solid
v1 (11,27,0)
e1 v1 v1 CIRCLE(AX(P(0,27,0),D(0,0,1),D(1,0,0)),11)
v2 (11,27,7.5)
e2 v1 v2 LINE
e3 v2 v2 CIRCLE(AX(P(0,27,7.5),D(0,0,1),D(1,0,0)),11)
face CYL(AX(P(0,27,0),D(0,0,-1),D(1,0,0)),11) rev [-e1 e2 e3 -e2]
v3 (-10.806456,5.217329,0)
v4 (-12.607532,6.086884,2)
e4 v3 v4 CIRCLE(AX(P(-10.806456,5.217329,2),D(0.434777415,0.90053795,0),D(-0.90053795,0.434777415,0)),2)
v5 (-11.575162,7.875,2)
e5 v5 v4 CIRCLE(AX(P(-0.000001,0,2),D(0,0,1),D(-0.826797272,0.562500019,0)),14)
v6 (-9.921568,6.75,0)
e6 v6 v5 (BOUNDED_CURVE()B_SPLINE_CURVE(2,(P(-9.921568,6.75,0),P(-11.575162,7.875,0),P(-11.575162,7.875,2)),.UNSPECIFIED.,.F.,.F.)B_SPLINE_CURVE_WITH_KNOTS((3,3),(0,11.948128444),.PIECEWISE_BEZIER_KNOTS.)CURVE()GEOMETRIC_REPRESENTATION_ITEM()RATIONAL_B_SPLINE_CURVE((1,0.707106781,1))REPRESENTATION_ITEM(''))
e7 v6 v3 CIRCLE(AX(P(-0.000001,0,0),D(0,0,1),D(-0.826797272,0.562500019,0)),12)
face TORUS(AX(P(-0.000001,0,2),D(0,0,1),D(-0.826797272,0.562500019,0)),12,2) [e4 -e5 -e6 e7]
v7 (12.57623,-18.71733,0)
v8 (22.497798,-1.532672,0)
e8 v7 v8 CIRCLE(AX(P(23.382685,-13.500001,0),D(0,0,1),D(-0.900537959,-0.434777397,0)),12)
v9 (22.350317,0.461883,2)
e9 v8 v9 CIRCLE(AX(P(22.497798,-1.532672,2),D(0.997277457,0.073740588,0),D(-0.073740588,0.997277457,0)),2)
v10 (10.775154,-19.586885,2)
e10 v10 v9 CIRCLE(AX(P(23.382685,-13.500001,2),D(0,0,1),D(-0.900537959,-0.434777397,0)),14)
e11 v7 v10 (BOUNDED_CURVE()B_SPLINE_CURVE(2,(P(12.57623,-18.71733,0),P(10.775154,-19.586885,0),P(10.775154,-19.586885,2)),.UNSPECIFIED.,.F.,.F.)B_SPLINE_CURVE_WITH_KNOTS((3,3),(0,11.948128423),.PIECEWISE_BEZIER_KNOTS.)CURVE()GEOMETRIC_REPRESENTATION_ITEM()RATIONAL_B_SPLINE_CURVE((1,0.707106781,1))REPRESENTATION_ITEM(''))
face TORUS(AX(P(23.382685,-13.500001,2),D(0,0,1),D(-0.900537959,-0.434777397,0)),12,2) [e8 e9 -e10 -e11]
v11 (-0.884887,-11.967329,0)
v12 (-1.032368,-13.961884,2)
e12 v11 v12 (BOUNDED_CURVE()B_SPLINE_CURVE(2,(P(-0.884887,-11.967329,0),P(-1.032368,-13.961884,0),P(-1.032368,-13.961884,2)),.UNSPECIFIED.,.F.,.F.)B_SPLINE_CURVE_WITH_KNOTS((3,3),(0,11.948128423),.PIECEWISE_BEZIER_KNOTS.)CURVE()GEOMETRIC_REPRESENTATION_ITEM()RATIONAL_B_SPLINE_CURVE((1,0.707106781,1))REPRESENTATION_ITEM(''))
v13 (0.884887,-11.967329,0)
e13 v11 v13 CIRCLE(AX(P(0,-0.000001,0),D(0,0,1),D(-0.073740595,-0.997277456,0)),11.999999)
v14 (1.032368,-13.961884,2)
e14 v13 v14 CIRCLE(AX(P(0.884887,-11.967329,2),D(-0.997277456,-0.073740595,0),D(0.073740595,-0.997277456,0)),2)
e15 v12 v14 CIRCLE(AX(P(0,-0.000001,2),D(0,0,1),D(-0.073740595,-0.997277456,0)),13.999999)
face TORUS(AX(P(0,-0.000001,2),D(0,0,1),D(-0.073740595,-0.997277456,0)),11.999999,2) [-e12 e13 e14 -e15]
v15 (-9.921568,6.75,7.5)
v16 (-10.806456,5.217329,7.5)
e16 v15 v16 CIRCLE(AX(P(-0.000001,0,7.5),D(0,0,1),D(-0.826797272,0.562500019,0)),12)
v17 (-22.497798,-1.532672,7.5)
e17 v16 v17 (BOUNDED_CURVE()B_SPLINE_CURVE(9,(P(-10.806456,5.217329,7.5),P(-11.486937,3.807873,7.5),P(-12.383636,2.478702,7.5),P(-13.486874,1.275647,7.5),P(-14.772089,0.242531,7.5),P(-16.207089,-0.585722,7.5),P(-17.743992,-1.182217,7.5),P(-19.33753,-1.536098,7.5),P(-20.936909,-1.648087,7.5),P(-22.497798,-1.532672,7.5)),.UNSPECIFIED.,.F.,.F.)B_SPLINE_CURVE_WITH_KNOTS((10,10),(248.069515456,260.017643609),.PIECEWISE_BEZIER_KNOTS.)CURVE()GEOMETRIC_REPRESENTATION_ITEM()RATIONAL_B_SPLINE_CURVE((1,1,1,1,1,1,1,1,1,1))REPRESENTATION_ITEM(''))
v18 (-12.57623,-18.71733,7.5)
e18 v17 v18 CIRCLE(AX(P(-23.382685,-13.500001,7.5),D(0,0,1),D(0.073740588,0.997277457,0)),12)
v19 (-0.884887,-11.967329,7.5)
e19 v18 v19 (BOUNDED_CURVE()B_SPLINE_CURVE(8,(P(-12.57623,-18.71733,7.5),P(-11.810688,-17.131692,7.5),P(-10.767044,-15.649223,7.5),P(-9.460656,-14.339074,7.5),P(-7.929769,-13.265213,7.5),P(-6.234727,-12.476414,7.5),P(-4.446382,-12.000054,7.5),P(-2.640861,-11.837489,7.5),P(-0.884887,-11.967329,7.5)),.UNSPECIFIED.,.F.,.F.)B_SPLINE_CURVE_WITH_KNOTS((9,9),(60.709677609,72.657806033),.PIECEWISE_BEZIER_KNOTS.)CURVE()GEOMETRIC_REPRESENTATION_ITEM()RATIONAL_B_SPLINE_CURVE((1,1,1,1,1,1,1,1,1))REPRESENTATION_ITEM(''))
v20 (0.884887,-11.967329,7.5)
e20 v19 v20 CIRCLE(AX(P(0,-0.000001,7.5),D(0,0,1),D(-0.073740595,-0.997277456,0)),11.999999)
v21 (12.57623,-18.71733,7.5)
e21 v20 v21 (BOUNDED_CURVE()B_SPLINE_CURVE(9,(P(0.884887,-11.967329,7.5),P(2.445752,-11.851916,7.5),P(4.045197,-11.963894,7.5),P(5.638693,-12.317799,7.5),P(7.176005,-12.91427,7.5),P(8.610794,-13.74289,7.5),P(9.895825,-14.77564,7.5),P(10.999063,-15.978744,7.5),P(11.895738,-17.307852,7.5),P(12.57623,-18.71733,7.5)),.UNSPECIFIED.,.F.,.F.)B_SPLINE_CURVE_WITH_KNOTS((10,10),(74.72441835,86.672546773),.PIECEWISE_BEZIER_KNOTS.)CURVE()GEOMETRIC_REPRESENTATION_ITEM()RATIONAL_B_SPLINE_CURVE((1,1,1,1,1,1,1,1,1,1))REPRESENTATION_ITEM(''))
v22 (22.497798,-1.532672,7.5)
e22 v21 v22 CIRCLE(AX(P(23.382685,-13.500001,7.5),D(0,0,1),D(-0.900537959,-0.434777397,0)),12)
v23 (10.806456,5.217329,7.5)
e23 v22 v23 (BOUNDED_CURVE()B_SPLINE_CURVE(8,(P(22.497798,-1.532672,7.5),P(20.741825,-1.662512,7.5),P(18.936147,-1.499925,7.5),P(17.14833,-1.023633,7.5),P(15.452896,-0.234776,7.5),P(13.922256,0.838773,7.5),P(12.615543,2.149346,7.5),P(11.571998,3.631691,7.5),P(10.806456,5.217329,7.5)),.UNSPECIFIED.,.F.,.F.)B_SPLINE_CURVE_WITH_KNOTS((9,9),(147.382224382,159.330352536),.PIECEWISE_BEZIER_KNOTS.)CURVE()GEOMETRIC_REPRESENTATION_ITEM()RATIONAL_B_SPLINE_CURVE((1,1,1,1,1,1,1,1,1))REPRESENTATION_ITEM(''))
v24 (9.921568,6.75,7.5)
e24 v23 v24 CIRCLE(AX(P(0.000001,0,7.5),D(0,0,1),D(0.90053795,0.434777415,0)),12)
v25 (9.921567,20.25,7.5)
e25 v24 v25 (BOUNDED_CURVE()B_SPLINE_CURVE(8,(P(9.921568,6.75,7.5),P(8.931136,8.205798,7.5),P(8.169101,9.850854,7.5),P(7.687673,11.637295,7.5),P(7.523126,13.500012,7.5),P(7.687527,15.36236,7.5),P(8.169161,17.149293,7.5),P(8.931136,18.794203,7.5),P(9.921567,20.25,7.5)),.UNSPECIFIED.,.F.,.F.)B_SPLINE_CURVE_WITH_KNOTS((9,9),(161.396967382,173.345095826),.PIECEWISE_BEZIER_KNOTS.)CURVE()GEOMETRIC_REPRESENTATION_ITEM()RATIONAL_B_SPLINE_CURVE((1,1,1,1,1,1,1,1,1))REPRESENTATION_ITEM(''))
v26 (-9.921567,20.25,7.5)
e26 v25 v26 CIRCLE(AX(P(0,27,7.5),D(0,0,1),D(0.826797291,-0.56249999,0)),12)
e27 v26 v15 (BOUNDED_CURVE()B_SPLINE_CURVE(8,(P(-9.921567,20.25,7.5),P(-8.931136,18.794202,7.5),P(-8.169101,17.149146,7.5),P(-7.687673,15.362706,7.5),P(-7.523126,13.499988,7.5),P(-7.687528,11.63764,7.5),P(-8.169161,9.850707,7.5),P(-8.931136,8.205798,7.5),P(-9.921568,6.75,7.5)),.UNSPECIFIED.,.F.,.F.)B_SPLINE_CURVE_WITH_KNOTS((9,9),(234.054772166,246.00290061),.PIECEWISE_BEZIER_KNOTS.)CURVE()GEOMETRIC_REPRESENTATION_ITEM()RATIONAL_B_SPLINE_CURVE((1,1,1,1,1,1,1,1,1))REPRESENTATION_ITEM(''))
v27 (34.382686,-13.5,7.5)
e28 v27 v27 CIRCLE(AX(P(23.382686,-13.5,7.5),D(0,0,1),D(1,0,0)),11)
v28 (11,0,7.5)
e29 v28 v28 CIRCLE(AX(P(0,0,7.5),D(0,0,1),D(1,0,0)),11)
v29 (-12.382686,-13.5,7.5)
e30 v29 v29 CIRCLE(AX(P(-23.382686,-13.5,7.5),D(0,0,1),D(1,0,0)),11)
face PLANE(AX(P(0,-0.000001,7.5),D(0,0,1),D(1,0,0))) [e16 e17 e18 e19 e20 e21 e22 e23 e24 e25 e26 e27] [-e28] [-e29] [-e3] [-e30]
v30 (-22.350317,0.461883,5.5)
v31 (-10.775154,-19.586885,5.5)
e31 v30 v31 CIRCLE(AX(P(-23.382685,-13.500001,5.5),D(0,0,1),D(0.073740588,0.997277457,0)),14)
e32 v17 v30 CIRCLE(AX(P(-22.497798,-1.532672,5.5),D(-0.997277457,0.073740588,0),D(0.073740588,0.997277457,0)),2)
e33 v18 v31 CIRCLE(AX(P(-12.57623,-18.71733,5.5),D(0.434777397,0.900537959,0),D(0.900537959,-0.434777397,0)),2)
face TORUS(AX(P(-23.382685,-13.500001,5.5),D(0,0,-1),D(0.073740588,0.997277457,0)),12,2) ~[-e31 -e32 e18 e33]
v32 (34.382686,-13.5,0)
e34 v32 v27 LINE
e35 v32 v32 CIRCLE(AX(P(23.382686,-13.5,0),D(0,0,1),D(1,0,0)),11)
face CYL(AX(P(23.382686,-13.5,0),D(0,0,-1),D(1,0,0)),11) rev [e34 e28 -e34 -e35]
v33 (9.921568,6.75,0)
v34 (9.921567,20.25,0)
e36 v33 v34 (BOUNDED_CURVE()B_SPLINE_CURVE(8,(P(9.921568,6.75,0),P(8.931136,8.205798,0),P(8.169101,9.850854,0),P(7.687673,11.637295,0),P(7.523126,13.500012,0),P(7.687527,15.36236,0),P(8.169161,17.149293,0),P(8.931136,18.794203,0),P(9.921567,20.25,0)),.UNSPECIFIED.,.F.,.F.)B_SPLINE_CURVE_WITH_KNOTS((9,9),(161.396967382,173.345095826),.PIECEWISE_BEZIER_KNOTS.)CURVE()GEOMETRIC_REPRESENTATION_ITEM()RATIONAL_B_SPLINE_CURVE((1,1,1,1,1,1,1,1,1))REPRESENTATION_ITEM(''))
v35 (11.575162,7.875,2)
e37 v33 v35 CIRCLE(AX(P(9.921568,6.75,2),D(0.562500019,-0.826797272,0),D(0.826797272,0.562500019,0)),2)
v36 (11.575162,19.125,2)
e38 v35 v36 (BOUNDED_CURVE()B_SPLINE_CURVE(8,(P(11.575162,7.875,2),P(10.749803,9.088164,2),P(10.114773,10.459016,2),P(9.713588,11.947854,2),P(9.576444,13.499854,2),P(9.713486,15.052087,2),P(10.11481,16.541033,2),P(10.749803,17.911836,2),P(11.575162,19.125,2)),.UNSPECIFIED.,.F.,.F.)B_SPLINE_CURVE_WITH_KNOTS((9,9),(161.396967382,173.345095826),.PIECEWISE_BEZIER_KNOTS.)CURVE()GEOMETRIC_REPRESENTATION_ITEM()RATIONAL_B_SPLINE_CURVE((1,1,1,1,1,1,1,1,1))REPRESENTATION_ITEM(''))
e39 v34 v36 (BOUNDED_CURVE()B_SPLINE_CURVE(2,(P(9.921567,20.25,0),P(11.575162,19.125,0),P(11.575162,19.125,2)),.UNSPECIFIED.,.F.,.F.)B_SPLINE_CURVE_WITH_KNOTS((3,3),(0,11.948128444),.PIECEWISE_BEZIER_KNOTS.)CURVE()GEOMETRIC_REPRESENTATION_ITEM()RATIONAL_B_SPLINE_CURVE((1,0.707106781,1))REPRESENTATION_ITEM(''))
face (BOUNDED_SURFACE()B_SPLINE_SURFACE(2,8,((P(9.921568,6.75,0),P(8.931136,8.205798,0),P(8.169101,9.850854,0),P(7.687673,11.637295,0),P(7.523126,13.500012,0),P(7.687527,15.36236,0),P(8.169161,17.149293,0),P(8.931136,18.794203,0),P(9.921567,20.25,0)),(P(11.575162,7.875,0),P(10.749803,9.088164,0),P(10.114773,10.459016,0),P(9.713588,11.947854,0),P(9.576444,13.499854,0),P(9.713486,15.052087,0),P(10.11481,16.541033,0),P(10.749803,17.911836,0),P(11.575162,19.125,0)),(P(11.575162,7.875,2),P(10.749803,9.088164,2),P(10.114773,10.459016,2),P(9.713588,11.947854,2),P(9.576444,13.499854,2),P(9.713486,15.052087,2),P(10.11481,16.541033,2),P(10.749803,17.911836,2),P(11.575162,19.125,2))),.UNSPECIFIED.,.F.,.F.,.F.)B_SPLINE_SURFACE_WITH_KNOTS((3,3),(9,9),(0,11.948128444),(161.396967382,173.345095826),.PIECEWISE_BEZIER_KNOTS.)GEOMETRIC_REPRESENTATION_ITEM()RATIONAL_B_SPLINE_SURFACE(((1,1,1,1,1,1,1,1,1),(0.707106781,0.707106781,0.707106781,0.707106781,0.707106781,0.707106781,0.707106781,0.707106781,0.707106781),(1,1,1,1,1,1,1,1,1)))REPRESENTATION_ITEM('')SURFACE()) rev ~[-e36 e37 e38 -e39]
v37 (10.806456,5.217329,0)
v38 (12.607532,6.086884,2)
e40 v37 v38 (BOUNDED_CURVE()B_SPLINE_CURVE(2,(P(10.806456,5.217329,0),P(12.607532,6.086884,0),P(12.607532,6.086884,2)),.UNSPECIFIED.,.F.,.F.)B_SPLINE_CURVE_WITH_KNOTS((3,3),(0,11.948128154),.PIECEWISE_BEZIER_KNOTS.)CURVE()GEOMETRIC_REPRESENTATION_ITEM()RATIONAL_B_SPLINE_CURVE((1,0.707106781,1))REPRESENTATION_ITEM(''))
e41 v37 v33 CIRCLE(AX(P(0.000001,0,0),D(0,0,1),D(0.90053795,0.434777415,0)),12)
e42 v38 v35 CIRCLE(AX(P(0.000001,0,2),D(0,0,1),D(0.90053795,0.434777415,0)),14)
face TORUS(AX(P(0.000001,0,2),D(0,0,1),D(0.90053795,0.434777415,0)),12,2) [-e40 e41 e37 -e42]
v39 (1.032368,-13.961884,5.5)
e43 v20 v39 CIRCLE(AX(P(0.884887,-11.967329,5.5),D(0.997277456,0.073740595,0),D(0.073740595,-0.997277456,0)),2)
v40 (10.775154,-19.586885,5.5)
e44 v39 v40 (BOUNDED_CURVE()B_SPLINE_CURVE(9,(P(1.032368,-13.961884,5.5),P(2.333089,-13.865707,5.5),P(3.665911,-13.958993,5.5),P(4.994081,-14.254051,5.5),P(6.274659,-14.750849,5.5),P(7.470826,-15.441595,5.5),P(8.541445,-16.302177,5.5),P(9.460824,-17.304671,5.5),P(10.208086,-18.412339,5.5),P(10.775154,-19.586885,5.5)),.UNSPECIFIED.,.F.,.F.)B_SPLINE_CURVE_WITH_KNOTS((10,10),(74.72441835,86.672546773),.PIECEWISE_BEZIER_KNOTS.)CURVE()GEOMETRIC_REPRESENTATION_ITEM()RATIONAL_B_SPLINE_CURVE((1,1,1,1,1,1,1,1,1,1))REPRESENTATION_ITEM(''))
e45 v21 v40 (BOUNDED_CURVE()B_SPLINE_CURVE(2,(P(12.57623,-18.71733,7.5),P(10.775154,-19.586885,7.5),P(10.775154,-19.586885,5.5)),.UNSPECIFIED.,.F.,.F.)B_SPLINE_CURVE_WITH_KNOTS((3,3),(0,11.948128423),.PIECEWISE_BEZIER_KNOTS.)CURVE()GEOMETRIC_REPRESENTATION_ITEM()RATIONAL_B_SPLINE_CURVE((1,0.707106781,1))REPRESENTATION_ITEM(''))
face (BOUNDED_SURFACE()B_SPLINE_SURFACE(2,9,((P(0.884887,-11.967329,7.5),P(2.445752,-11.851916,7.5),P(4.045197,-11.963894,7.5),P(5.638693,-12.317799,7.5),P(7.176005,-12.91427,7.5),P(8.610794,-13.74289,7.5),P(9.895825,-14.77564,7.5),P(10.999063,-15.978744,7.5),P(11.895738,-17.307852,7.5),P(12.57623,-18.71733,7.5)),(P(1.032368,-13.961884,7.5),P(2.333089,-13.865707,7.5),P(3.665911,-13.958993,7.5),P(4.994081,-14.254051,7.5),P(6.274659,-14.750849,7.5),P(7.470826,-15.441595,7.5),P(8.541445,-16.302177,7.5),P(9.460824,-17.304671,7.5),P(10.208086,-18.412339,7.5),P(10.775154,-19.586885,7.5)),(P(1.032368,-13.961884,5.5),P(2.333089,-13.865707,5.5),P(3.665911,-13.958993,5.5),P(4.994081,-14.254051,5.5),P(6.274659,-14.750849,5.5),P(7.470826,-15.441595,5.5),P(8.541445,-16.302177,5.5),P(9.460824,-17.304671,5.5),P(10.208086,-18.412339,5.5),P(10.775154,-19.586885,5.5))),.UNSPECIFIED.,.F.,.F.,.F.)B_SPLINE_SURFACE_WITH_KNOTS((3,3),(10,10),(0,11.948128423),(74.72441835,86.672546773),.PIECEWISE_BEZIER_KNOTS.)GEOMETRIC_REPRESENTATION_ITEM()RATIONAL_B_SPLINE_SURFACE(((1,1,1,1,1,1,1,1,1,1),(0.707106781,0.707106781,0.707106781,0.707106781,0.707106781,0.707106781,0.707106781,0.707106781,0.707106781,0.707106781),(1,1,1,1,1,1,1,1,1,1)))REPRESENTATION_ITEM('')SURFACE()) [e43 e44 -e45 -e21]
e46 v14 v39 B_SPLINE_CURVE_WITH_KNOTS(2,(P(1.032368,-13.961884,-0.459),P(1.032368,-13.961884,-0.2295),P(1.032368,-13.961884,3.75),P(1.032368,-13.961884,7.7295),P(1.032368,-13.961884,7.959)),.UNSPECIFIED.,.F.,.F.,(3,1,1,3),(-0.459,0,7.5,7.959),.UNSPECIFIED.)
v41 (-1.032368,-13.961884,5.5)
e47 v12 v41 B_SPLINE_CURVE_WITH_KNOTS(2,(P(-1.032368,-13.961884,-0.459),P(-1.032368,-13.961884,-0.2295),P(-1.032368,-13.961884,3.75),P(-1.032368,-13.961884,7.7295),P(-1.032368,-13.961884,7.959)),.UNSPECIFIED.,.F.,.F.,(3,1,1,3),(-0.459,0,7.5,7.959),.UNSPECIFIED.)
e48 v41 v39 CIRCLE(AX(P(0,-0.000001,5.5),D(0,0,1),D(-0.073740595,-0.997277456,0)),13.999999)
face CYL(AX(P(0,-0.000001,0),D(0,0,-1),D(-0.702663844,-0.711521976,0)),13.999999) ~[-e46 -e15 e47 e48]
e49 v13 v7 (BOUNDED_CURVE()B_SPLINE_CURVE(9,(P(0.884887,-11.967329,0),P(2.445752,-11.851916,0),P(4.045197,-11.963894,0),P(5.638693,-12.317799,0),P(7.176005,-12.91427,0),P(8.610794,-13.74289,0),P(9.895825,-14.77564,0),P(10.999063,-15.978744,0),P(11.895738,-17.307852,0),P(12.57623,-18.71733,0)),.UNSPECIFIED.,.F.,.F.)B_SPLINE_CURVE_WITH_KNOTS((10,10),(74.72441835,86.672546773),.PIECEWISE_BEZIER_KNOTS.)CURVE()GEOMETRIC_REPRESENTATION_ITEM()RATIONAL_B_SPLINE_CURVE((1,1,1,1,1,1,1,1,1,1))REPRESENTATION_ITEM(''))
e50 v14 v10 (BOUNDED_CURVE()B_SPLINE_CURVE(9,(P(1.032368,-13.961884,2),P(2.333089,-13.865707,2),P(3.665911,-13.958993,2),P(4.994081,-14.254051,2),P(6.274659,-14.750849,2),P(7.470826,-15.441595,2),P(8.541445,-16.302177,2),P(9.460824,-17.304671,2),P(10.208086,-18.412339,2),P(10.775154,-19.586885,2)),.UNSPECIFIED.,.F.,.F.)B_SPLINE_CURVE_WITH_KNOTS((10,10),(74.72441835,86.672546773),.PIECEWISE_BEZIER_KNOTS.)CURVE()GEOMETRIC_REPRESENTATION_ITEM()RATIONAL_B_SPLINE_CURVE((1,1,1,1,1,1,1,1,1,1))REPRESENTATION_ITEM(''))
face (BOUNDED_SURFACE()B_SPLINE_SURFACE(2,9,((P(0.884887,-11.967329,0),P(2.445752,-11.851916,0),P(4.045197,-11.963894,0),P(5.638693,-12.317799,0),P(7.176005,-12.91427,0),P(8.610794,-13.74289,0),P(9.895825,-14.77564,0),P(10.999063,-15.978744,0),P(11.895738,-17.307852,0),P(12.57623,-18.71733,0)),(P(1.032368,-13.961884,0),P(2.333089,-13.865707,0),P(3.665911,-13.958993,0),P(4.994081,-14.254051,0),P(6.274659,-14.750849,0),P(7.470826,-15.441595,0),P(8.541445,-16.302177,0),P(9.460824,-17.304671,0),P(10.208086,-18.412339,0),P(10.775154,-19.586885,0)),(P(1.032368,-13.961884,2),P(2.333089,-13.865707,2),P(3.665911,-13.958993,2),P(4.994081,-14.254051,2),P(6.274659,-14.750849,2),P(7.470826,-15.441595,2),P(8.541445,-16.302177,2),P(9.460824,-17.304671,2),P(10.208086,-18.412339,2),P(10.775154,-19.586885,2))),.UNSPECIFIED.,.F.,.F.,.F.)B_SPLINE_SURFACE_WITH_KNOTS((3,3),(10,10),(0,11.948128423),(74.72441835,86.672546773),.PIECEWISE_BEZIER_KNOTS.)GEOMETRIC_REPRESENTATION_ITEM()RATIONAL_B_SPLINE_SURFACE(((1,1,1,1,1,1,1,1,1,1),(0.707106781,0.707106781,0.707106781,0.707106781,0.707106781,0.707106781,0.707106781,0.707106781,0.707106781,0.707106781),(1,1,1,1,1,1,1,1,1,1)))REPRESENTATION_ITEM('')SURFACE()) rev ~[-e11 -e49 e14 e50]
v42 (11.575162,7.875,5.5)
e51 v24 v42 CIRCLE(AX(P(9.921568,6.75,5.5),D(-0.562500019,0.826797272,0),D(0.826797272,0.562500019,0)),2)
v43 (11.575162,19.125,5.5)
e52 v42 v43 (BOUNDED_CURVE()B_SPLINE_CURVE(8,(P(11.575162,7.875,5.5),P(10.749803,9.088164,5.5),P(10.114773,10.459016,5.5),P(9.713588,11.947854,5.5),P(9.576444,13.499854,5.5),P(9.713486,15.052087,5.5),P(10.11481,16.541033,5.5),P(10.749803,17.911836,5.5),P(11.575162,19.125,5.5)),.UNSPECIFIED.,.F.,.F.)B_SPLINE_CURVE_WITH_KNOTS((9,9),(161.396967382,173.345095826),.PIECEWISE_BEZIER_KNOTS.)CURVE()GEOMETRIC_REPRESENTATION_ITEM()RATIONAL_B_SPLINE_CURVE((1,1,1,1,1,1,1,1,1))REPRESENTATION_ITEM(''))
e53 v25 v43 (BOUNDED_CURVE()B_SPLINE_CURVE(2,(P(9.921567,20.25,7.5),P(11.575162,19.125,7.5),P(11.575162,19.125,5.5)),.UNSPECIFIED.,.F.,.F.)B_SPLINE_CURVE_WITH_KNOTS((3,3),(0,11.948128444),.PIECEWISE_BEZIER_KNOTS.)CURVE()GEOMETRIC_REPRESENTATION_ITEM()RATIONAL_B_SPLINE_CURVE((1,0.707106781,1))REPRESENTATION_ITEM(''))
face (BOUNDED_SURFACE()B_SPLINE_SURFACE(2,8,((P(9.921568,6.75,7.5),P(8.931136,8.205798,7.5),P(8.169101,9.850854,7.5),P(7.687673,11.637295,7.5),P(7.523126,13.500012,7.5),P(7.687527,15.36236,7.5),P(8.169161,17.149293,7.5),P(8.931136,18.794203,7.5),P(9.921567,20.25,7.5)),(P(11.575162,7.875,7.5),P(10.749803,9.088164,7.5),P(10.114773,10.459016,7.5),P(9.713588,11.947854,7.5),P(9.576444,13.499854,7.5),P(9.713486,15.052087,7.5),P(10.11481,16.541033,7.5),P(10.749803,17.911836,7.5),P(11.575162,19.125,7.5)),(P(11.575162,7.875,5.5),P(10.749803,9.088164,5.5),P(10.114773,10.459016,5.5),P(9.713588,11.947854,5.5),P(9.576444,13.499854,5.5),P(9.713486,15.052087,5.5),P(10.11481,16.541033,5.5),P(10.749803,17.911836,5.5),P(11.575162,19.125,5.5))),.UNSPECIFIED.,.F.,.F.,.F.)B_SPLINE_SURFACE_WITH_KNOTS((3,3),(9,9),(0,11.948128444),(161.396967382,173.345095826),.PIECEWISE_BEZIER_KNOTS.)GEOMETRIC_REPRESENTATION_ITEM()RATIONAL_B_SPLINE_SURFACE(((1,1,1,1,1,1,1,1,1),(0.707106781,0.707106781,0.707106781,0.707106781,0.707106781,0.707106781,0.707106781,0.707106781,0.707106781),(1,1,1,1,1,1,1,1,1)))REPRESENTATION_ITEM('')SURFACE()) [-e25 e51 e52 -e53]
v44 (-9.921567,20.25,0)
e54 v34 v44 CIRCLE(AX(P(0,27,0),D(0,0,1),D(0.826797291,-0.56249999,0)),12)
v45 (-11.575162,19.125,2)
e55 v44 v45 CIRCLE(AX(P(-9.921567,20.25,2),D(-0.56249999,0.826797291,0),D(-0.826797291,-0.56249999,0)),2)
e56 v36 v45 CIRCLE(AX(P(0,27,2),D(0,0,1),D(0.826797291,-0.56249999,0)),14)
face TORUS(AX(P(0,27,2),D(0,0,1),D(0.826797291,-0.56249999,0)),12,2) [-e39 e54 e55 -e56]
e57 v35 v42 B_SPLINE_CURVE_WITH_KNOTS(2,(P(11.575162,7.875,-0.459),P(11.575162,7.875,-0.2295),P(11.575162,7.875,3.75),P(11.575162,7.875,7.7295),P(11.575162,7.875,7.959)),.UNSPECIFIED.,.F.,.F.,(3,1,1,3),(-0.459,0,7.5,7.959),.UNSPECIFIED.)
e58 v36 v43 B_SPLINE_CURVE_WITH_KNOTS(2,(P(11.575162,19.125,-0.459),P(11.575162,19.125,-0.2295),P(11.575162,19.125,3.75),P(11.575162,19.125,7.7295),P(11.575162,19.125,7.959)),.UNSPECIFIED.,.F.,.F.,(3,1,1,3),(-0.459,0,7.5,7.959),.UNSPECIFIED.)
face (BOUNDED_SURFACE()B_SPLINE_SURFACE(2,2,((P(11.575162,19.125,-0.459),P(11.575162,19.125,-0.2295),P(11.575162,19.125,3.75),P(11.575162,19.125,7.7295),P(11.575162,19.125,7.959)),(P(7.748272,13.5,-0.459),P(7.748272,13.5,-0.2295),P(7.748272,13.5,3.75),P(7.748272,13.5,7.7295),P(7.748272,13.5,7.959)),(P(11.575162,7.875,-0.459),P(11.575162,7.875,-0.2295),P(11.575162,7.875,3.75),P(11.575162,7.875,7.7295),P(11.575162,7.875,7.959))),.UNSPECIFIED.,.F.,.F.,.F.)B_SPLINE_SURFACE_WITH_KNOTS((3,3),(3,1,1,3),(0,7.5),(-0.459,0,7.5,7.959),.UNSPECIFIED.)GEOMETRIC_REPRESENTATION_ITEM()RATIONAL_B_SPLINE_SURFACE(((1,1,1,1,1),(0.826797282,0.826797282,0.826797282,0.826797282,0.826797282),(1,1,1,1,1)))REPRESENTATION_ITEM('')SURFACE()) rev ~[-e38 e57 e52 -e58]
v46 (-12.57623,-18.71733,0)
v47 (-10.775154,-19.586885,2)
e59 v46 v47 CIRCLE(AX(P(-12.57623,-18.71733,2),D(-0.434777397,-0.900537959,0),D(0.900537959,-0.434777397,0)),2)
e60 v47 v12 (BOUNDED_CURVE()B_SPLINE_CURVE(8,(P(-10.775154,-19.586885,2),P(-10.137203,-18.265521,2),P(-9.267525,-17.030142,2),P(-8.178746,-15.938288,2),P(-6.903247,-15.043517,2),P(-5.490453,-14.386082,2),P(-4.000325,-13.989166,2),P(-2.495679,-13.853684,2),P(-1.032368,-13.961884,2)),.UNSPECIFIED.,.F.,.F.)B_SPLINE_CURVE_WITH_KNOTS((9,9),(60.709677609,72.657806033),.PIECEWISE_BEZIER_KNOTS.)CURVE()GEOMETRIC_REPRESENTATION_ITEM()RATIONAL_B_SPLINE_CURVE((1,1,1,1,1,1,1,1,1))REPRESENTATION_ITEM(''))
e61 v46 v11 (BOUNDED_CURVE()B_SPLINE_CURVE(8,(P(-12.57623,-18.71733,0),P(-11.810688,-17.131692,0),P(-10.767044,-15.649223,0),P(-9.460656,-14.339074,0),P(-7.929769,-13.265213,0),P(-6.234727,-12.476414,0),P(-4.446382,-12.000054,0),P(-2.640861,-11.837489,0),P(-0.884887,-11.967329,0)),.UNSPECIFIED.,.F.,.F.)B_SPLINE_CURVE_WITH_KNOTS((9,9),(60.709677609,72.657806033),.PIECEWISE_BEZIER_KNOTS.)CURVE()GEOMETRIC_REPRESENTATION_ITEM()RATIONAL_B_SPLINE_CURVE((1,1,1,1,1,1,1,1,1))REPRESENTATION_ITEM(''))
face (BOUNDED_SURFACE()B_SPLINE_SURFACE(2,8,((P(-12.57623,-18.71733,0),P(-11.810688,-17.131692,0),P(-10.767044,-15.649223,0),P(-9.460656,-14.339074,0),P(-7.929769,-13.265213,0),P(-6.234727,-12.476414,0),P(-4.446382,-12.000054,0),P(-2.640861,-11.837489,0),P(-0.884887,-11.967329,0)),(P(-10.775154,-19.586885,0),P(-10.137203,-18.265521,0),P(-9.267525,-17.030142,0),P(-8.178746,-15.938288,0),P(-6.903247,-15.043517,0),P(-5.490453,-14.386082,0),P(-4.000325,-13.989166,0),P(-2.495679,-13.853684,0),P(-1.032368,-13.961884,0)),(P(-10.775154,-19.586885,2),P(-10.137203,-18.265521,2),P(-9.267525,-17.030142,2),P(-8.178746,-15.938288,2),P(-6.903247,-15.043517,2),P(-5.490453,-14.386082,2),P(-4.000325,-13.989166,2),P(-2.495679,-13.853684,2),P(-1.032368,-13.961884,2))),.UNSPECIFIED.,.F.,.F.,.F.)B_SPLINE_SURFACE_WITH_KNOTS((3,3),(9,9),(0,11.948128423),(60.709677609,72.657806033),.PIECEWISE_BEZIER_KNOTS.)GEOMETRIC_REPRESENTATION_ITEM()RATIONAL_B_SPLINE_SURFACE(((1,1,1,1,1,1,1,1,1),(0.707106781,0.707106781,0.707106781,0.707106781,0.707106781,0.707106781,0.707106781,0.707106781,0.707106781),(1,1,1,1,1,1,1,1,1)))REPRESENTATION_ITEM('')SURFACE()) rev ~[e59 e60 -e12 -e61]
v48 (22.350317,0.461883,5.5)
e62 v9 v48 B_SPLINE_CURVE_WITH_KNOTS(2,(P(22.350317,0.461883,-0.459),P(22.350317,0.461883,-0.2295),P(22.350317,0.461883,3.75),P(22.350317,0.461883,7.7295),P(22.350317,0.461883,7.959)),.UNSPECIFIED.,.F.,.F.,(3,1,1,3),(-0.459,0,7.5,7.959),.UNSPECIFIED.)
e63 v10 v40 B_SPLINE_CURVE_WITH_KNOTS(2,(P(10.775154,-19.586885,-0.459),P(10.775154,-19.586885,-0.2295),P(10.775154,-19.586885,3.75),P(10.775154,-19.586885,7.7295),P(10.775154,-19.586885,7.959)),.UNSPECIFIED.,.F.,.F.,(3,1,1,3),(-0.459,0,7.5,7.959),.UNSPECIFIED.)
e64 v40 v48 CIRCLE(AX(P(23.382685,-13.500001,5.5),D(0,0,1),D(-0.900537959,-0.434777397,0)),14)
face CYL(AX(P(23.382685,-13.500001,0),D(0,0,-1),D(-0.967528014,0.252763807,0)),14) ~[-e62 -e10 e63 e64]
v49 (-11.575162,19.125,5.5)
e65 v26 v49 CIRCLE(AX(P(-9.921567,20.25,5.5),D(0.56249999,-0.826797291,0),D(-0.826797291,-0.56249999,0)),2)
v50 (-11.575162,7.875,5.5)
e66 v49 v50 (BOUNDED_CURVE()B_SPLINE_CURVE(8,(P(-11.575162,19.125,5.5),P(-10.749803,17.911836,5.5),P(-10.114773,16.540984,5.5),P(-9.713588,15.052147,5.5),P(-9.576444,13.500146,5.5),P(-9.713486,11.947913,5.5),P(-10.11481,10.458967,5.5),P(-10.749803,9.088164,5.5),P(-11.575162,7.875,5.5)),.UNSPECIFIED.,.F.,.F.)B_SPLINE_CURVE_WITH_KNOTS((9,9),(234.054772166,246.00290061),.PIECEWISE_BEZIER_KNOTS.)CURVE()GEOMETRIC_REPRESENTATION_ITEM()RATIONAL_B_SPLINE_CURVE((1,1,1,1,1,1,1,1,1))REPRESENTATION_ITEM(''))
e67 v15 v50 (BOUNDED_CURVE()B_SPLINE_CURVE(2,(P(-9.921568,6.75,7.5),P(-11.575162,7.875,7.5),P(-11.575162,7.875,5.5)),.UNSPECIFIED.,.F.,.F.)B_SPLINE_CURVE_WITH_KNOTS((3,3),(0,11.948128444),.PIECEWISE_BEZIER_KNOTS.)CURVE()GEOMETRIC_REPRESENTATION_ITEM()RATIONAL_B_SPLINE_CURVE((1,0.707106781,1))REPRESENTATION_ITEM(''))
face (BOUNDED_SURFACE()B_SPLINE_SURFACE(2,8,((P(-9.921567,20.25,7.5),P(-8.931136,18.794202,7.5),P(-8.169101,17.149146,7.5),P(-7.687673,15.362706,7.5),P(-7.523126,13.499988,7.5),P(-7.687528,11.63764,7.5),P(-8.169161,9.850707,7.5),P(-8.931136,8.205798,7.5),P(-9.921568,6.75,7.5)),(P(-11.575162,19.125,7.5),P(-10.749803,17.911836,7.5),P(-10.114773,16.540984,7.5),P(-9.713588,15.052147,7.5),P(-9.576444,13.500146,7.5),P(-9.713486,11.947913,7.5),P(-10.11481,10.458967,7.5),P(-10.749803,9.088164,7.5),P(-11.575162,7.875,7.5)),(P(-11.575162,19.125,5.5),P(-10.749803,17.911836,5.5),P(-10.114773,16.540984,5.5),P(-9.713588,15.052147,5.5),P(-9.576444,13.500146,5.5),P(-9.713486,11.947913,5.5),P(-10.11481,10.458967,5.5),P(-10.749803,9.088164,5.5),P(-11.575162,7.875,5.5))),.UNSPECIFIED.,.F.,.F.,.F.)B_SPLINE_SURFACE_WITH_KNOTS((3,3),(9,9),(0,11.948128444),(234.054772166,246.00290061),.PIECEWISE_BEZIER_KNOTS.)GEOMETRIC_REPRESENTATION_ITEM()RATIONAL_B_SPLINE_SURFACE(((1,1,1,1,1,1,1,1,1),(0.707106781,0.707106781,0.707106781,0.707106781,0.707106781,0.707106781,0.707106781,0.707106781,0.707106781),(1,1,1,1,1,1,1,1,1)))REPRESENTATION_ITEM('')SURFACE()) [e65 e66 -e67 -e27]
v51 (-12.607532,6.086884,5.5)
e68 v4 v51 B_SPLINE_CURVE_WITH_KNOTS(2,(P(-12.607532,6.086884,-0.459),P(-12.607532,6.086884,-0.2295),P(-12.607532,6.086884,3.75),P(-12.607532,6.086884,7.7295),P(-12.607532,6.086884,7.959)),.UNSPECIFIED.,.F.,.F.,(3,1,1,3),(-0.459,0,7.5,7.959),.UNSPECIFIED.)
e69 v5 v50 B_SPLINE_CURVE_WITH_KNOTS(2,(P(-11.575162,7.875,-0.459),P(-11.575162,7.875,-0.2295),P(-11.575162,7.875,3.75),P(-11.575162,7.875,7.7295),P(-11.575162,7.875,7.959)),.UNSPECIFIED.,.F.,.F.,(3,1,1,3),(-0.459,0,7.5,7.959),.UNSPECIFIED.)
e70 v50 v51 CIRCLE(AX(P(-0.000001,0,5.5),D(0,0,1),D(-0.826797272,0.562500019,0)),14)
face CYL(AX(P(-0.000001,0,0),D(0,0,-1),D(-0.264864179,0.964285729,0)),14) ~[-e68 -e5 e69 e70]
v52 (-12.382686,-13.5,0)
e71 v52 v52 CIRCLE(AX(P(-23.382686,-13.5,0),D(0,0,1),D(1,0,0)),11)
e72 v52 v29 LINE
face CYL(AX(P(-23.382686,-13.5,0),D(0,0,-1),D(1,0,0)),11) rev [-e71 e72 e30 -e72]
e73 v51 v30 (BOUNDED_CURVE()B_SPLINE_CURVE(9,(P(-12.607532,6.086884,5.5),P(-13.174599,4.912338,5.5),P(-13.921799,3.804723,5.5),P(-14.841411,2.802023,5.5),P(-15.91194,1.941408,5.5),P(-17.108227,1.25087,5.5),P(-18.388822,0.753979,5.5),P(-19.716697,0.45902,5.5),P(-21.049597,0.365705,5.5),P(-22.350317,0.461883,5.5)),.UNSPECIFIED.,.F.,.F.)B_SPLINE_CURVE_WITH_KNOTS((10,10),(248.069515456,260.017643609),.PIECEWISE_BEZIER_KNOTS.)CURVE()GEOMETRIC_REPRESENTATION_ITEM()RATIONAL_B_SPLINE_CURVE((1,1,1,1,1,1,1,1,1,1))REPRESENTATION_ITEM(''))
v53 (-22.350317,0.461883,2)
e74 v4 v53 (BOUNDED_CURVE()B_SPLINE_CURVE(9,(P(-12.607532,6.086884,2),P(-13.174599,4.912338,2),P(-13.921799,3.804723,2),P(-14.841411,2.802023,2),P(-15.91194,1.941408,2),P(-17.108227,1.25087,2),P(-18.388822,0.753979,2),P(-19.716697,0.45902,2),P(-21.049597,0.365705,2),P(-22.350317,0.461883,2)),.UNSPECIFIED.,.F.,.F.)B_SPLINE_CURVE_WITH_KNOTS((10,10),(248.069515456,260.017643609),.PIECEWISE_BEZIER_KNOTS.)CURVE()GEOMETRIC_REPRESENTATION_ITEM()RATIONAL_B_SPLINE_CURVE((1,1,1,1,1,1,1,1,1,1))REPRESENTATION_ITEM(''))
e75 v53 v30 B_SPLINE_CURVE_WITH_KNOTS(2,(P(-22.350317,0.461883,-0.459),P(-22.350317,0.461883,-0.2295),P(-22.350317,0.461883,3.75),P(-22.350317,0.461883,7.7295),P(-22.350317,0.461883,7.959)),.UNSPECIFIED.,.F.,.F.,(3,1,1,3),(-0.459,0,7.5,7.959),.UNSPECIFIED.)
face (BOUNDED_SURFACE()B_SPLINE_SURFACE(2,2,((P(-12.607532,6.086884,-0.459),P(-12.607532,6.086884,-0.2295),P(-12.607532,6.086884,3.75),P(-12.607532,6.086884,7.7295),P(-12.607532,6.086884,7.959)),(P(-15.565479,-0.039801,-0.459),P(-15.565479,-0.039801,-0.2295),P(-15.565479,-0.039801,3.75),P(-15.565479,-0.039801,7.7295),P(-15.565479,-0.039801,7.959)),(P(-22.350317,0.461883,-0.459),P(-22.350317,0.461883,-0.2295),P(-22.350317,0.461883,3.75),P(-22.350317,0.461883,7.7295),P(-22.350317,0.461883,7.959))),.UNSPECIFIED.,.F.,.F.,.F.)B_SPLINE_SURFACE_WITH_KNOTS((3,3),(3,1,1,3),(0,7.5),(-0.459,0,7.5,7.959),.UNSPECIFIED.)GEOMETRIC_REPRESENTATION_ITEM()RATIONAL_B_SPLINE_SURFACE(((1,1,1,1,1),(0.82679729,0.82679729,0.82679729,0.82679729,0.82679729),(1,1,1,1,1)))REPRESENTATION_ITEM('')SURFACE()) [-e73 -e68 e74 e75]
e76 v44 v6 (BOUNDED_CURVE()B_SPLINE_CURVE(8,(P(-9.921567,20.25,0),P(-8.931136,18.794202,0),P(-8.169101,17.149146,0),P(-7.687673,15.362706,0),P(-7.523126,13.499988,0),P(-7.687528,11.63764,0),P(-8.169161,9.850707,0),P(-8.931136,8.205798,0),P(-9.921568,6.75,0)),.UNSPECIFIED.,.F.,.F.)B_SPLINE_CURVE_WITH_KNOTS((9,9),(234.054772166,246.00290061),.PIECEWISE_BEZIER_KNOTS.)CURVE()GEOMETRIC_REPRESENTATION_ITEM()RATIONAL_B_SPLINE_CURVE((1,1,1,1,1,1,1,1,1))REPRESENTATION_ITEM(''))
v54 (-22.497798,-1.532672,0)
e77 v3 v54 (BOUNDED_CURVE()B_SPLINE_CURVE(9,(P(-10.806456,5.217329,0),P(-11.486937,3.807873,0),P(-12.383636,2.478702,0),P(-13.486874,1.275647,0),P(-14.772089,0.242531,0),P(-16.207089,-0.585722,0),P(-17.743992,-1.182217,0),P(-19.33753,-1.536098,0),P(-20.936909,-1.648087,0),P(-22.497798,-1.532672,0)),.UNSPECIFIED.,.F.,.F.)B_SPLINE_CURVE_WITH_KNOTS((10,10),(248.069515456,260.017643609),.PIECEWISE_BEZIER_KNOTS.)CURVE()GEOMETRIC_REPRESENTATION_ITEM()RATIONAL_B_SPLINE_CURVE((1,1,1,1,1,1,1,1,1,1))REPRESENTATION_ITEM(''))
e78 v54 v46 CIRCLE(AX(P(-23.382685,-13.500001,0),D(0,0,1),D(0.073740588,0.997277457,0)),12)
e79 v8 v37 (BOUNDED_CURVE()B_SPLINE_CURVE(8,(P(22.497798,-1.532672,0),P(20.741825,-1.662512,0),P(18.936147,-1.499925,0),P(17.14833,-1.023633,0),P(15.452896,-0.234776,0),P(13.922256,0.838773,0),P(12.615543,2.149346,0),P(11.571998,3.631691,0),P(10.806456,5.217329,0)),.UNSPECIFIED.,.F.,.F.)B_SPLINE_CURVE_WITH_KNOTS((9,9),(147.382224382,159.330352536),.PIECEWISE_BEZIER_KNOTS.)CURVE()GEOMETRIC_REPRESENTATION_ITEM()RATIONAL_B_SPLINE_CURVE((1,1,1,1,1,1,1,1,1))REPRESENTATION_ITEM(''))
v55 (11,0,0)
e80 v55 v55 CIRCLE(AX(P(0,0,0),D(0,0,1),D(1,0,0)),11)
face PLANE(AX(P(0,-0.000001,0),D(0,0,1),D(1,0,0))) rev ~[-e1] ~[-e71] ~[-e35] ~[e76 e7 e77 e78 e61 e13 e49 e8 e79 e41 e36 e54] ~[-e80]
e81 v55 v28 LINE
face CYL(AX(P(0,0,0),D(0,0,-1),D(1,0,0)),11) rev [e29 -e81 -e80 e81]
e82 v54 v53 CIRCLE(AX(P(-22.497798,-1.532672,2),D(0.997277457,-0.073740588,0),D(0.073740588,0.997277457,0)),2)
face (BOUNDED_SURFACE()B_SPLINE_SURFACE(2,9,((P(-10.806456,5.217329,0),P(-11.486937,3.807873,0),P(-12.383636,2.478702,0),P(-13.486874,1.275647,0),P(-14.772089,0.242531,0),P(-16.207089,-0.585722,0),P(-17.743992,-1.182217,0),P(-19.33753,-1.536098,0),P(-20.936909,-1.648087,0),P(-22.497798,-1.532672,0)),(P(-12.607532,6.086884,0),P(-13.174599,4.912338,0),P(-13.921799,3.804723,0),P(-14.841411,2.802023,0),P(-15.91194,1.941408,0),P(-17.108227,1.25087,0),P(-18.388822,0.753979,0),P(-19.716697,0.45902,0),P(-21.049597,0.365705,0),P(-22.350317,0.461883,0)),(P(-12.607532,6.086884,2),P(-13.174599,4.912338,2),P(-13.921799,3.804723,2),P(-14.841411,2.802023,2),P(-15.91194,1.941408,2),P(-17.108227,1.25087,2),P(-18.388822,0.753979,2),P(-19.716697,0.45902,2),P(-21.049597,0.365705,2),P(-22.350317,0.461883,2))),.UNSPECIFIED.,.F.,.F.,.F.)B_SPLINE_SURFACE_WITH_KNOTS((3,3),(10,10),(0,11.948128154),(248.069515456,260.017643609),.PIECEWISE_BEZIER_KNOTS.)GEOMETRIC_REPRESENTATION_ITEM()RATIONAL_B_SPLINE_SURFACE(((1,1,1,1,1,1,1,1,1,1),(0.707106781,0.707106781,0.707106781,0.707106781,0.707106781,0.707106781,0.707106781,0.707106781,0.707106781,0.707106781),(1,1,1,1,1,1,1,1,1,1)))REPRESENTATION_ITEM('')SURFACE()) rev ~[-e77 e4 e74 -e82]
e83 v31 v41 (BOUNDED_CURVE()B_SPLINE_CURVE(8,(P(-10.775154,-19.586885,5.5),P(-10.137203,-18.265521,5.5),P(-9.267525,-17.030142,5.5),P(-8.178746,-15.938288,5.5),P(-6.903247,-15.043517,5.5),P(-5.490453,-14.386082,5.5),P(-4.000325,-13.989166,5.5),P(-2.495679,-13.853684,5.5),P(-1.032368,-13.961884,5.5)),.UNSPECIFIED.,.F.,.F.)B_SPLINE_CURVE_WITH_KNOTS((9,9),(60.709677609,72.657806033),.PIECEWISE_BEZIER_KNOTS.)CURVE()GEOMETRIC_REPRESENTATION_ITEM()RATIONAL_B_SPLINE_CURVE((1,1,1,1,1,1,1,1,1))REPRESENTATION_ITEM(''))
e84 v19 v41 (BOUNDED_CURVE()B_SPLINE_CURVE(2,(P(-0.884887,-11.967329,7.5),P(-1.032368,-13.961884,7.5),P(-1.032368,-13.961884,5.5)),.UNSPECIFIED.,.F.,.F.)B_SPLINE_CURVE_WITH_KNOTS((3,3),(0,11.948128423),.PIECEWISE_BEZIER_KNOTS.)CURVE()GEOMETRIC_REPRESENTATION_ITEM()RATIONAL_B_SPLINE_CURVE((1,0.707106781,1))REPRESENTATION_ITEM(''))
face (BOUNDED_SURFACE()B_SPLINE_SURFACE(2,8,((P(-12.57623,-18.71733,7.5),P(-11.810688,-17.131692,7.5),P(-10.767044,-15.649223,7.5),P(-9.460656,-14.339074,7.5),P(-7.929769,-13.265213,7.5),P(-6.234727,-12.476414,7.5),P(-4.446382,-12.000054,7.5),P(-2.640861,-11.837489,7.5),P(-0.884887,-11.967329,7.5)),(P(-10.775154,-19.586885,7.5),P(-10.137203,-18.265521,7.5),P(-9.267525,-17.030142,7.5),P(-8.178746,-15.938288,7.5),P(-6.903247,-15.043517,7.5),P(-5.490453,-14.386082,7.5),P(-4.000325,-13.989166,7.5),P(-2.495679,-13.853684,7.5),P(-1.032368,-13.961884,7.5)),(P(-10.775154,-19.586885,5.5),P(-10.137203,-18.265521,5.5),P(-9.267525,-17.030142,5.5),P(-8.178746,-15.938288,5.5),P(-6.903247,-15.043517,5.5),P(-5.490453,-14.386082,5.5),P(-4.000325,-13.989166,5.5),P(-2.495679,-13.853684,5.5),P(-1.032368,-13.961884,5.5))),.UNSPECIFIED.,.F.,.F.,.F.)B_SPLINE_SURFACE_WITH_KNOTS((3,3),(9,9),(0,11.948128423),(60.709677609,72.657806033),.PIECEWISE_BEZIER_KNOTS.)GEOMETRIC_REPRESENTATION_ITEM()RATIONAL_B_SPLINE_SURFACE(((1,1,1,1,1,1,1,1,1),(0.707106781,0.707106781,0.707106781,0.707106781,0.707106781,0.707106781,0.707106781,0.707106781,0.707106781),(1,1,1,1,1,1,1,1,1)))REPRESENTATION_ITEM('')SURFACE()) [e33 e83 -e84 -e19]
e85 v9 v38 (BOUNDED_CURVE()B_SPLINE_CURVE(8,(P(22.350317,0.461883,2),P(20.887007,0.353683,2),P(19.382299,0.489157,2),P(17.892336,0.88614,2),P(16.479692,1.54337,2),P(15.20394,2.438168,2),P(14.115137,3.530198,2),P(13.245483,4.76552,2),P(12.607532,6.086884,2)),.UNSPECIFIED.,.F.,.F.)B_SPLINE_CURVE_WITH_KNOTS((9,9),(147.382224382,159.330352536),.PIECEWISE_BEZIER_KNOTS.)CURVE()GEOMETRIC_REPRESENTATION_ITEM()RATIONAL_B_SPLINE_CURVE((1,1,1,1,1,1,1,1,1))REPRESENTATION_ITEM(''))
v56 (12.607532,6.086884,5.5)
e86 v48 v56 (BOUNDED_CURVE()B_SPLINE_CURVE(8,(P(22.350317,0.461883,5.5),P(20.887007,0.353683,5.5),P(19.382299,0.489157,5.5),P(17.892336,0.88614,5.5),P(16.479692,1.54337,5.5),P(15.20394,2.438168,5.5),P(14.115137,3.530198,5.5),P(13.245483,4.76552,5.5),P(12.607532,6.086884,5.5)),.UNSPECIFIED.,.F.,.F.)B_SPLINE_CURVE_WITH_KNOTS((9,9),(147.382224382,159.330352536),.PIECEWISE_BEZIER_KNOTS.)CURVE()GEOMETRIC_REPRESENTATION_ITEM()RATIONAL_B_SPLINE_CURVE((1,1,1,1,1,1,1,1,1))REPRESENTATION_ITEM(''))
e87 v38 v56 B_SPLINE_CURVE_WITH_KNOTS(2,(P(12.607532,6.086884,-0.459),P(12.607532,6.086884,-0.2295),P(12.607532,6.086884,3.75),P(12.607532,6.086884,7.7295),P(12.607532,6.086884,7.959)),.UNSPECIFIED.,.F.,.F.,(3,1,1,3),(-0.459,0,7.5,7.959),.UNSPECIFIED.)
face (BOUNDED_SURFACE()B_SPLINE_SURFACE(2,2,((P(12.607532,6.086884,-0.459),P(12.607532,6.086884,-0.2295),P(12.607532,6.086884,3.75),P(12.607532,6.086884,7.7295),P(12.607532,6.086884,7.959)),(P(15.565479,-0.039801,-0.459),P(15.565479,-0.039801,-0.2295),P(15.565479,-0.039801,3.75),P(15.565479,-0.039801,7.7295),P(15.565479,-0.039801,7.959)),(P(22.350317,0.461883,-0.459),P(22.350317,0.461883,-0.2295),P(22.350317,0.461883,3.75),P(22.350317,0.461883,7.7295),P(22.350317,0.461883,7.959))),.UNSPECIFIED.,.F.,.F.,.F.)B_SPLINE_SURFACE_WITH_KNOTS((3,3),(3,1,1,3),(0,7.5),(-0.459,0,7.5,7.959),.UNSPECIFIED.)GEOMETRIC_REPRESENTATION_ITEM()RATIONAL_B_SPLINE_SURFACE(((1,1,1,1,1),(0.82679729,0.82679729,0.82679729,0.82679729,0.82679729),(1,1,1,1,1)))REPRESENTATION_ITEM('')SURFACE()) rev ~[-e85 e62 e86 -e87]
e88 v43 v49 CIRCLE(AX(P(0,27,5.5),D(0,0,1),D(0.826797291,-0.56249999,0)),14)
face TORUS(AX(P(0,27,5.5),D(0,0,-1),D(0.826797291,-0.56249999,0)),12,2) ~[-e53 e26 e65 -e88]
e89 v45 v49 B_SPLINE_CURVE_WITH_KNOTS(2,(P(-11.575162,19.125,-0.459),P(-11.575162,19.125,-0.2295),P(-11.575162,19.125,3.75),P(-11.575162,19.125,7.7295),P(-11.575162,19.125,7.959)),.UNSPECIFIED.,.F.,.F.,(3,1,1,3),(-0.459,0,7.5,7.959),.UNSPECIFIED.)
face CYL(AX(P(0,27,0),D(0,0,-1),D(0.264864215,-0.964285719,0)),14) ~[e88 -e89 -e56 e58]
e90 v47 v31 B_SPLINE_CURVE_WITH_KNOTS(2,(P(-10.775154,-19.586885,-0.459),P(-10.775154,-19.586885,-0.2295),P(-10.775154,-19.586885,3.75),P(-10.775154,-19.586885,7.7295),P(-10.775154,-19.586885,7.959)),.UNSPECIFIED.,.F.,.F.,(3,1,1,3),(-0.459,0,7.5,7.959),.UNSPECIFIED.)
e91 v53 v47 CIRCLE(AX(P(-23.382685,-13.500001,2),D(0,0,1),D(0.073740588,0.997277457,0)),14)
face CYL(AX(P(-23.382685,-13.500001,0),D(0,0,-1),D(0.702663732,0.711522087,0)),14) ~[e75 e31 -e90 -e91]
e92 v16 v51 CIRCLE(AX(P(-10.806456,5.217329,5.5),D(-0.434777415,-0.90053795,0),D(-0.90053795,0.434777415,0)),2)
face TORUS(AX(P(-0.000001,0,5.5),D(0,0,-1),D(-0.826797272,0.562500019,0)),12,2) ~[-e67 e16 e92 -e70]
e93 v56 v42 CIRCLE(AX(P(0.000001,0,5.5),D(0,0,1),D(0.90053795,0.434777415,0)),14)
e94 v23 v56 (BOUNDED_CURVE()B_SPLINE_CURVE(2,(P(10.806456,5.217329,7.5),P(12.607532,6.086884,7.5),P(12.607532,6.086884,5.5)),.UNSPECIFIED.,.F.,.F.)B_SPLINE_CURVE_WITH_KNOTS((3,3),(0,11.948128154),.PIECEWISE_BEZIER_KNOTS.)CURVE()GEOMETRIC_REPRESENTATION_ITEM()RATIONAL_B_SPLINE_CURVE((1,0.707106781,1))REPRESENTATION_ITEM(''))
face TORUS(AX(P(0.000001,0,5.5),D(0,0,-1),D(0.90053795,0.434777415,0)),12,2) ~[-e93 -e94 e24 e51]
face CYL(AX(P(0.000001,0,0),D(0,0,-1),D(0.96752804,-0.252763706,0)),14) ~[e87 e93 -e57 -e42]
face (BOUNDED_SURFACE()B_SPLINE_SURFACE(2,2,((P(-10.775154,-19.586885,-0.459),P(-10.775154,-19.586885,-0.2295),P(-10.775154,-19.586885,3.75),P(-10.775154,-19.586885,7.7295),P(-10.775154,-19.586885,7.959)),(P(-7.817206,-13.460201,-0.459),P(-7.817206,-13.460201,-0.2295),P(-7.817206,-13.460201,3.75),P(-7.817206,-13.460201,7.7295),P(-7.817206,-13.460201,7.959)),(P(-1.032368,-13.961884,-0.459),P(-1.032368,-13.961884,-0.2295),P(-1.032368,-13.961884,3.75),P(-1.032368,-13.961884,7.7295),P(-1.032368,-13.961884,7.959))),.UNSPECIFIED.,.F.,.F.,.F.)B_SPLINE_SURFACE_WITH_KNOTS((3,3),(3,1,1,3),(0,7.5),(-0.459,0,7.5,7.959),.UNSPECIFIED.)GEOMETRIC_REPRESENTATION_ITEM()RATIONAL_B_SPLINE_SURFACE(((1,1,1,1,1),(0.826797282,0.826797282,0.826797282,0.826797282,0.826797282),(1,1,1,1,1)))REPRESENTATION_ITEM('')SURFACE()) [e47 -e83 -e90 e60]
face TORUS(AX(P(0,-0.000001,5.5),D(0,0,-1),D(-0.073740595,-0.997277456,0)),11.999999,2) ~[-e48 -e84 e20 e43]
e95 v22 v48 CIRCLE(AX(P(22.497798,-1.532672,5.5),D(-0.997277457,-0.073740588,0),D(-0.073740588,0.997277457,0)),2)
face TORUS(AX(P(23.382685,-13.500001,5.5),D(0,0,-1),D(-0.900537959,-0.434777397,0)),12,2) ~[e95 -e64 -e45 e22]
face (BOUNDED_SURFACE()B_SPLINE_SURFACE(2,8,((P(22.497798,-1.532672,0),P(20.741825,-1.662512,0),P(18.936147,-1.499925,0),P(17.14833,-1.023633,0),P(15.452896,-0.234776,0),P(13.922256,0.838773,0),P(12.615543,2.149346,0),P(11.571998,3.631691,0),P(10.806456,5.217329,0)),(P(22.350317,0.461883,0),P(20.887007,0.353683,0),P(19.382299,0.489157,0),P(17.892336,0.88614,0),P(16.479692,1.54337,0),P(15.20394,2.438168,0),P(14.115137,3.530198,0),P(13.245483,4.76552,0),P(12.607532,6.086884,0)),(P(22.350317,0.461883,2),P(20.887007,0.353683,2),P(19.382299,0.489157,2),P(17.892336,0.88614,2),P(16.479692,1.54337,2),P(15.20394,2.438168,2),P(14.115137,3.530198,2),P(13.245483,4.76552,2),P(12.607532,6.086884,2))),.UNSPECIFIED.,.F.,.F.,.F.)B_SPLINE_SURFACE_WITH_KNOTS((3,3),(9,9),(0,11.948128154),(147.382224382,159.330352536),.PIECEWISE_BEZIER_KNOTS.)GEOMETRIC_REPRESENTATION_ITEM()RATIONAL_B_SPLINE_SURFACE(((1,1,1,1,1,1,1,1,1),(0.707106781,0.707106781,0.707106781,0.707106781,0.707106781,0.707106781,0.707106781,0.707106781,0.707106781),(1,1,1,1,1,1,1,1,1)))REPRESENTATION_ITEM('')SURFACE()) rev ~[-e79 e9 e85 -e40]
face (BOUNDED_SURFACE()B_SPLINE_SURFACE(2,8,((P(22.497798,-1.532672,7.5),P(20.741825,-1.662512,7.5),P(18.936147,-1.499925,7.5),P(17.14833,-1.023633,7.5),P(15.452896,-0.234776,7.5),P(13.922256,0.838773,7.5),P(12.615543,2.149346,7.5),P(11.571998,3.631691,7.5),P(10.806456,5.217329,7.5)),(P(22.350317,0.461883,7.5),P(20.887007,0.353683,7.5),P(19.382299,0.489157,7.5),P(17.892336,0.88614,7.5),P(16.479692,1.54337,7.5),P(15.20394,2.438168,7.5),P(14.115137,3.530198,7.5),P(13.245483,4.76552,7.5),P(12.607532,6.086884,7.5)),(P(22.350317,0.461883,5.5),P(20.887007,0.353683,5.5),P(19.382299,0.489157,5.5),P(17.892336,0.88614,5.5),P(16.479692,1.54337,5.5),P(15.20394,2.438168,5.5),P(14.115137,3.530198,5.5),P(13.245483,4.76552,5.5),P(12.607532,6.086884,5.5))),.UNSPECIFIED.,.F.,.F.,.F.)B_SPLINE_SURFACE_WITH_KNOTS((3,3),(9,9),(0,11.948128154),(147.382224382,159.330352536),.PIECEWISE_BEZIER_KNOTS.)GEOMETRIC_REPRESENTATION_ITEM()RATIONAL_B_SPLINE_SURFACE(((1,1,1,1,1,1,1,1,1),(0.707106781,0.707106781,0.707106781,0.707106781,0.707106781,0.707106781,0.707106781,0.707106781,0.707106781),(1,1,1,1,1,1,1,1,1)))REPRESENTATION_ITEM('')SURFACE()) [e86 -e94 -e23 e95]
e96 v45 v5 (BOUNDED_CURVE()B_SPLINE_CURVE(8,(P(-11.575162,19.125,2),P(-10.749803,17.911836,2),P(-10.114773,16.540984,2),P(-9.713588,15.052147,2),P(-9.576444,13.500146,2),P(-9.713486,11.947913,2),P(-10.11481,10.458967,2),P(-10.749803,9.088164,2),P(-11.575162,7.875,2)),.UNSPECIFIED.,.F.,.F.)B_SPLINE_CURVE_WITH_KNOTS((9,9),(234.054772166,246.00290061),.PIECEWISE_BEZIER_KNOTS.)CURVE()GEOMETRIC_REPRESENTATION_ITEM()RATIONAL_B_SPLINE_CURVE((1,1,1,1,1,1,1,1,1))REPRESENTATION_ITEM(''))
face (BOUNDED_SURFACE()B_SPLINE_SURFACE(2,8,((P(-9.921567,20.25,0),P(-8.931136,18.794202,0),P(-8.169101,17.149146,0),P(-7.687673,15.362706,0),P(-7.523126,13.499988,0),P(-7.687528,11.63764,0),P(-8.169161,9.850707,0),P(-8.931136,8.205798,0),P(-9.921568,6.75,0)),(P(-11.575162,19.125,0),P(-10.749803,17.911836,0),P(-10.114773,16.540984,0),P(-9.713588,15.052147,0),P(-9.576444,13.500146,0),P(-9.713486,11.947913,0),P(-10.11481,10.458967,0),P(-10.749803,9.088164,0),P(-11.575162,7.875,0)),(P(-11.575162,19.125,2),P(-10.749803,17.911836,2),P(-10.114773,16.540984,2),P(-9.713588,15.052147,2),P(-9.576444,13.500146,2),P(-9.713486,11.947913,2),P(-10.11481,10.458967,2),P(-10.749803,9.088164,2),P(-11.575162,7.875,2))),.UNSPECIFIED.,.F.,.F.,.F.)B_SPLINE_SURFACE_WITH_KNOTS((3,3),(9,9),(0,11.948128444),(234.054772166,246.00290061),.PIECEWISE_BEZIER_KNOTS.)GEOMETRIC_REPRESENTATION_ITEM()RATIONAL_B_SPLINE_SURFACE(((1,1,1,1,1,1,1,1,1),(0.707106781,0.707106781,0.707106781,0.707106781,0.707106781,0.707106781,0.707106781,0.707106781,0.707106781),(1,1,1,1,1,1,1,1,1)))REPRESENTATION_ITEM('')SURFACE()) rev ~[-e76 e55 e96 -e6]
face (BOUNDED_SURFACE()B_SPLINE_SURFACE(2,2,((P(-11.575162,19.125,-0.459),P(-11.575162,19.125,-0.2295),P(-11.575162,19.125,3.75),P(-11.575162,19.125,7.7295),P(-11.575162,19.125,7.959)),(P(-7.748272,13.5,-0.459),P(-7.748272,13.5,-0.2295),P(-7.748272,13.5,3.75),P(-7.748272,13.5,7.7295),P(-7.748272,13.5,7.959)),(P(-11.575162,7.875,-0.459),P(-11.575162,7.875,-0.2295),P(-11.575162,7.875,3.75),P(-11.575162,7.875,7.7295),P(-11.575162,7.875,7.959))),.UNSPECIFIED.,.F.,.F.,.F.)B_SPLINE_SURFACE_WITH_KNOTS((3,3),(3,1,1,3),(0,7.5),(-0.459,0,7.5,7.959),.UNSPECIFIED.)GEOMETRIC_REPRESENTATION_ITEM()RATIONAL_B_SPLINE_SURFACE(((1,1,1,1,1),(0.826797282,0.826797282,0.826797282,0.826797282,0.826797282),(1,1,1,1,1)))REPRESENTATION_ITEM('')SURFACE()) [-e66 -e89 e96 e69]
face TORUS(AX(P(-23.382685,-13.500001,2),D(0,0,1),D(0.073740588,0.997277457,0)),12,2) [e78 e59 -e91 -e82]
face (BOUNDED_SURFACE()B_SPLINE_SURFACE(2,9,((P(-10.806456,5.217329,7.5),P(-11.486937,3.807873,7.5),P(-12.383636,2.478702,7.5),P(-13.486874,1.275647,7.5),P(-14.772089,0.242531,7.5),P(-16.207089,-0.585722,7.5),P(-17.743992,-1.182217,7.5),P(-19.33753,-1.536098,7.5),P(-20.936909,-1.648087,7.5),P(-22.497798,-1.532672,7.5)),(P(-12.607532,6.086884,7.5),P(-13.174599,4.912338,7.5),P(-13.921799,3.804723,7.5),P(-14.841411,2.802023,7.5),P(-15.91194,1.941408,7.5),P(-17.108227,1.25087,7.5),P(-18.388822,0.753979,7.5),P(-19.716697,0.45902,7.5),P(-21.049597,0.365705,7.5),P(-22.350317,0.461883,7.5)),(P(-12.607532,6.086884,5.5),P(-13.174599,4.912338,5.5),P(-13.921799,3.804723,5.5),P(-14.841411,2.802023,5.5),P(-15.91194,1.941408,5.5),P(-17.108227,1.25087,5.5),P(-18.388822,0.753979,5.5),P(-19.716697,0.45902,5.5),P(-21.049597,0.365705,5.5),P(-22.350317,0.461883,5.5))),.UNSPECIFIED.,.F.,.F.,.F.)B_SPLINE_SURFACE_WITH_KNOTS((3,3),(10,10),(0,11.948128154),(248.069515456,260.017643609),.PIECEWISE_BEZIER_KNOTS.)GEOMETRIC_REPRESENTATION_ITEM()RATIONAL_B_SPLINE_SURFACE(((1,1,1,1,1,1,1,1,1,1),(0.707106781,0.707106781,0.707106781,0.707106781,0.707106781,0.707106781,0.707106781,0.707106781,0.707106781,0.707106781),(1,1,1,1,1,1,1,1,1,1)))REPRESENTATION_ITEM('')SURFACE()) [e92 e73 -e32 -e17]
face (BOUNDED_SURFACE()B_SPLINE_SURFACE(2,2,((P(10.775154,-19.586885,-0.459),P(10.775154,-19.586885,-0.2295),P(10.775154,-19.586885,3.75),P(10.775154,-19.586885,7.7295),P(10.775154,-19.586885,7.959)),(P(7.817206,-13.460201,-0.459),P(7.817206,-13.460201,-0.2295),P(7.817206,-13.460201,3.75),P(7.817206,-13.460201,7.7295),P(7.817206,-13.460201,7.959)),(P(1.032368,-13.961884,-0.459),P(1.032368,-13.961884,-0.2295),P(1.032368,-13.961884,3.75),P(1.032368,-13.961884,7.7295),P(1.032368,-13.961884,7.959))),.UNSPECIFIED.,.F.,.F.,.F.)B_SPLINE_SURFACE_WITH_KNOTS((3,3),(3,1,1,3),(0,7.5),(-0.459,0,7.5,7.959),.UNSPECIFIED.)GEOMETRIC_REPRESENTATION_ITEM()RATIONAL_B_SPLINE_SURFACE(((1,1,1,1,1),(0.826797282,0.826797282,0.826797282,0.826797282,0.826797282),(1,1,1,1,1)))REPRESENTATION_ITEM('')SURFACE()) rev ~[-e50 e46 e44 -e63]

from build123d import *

# Parameters (mm, degrees)
F0_R     = 11
F1_DEPTH = 7.5
F2_R     = 10
F3_R     = 2


with BuildPart() as f1:
    # F0 (on Top) → F1 (new body)
    with BuildSketch(Plane.XY):
        with BuildLine():
            ThreePointArc((3.708099, 13.5), (0, 41), (-3.708099, 13.5))
            ThreePointArc((-3.708099, 13.5), (-12.124356, 7), (-13.545393, -3.538692))
            ThreePointArc((-13.545393, -3.538692), (-35.507042, -20.5), (-9.837293, -9.961308))
            ThreePointArc((-9.837293, -9.961308), (0, -14), (9.837293, -9.961308))
            ThreePointArc((9.837293, -9.961308), (35.507042, -20.5), (13.545393, -3.538692))
            ThreePointArc((13.545393, -3.538692), (12.124356, 7), (3.708099, 13.5))
        make_face()
        with Locations((-23.382686, -13.5)):
            Circle(F0_R, mode=Mode.SUBTRACT)
        with Locations((23.382686, -13.5)):
            Circle(F0_R, mode=Mode.SUBTRACT)
        Circle(F0_R, mode=Mode.SUBTRACT)
        with Locations((0, 27)):
            Circle(F0_R, mode=Mode.SUBTRACT)
    extrude(amount=F1_DEPTH)

    # F2
    f2_edges = [f1.edges().sort_by_distance(p)[0] for p in [
        (-9.837293, -9.961308, 3.75),
        (9.837293, -9.961308, 3.75),
        (-13.545393, -3.538692, 3.75),
        (-3.708099, 13.5, 3.75),
        (3.708099, 13.5, 3.75),
        (13.545393, -3.538692, 3.75),
    ]]
    fillet(f2_edges, radius=F2_R)

    # F3
    f3_edges = [f1.edges().sort_by_distance(p)[0] for p in [
        (-35.507042, -20.5, 7.5),
        (-35.507042, -20.5, 0),
    ]]
    fillet(f3_edges, radius=F3_R)


solid = f1.part
